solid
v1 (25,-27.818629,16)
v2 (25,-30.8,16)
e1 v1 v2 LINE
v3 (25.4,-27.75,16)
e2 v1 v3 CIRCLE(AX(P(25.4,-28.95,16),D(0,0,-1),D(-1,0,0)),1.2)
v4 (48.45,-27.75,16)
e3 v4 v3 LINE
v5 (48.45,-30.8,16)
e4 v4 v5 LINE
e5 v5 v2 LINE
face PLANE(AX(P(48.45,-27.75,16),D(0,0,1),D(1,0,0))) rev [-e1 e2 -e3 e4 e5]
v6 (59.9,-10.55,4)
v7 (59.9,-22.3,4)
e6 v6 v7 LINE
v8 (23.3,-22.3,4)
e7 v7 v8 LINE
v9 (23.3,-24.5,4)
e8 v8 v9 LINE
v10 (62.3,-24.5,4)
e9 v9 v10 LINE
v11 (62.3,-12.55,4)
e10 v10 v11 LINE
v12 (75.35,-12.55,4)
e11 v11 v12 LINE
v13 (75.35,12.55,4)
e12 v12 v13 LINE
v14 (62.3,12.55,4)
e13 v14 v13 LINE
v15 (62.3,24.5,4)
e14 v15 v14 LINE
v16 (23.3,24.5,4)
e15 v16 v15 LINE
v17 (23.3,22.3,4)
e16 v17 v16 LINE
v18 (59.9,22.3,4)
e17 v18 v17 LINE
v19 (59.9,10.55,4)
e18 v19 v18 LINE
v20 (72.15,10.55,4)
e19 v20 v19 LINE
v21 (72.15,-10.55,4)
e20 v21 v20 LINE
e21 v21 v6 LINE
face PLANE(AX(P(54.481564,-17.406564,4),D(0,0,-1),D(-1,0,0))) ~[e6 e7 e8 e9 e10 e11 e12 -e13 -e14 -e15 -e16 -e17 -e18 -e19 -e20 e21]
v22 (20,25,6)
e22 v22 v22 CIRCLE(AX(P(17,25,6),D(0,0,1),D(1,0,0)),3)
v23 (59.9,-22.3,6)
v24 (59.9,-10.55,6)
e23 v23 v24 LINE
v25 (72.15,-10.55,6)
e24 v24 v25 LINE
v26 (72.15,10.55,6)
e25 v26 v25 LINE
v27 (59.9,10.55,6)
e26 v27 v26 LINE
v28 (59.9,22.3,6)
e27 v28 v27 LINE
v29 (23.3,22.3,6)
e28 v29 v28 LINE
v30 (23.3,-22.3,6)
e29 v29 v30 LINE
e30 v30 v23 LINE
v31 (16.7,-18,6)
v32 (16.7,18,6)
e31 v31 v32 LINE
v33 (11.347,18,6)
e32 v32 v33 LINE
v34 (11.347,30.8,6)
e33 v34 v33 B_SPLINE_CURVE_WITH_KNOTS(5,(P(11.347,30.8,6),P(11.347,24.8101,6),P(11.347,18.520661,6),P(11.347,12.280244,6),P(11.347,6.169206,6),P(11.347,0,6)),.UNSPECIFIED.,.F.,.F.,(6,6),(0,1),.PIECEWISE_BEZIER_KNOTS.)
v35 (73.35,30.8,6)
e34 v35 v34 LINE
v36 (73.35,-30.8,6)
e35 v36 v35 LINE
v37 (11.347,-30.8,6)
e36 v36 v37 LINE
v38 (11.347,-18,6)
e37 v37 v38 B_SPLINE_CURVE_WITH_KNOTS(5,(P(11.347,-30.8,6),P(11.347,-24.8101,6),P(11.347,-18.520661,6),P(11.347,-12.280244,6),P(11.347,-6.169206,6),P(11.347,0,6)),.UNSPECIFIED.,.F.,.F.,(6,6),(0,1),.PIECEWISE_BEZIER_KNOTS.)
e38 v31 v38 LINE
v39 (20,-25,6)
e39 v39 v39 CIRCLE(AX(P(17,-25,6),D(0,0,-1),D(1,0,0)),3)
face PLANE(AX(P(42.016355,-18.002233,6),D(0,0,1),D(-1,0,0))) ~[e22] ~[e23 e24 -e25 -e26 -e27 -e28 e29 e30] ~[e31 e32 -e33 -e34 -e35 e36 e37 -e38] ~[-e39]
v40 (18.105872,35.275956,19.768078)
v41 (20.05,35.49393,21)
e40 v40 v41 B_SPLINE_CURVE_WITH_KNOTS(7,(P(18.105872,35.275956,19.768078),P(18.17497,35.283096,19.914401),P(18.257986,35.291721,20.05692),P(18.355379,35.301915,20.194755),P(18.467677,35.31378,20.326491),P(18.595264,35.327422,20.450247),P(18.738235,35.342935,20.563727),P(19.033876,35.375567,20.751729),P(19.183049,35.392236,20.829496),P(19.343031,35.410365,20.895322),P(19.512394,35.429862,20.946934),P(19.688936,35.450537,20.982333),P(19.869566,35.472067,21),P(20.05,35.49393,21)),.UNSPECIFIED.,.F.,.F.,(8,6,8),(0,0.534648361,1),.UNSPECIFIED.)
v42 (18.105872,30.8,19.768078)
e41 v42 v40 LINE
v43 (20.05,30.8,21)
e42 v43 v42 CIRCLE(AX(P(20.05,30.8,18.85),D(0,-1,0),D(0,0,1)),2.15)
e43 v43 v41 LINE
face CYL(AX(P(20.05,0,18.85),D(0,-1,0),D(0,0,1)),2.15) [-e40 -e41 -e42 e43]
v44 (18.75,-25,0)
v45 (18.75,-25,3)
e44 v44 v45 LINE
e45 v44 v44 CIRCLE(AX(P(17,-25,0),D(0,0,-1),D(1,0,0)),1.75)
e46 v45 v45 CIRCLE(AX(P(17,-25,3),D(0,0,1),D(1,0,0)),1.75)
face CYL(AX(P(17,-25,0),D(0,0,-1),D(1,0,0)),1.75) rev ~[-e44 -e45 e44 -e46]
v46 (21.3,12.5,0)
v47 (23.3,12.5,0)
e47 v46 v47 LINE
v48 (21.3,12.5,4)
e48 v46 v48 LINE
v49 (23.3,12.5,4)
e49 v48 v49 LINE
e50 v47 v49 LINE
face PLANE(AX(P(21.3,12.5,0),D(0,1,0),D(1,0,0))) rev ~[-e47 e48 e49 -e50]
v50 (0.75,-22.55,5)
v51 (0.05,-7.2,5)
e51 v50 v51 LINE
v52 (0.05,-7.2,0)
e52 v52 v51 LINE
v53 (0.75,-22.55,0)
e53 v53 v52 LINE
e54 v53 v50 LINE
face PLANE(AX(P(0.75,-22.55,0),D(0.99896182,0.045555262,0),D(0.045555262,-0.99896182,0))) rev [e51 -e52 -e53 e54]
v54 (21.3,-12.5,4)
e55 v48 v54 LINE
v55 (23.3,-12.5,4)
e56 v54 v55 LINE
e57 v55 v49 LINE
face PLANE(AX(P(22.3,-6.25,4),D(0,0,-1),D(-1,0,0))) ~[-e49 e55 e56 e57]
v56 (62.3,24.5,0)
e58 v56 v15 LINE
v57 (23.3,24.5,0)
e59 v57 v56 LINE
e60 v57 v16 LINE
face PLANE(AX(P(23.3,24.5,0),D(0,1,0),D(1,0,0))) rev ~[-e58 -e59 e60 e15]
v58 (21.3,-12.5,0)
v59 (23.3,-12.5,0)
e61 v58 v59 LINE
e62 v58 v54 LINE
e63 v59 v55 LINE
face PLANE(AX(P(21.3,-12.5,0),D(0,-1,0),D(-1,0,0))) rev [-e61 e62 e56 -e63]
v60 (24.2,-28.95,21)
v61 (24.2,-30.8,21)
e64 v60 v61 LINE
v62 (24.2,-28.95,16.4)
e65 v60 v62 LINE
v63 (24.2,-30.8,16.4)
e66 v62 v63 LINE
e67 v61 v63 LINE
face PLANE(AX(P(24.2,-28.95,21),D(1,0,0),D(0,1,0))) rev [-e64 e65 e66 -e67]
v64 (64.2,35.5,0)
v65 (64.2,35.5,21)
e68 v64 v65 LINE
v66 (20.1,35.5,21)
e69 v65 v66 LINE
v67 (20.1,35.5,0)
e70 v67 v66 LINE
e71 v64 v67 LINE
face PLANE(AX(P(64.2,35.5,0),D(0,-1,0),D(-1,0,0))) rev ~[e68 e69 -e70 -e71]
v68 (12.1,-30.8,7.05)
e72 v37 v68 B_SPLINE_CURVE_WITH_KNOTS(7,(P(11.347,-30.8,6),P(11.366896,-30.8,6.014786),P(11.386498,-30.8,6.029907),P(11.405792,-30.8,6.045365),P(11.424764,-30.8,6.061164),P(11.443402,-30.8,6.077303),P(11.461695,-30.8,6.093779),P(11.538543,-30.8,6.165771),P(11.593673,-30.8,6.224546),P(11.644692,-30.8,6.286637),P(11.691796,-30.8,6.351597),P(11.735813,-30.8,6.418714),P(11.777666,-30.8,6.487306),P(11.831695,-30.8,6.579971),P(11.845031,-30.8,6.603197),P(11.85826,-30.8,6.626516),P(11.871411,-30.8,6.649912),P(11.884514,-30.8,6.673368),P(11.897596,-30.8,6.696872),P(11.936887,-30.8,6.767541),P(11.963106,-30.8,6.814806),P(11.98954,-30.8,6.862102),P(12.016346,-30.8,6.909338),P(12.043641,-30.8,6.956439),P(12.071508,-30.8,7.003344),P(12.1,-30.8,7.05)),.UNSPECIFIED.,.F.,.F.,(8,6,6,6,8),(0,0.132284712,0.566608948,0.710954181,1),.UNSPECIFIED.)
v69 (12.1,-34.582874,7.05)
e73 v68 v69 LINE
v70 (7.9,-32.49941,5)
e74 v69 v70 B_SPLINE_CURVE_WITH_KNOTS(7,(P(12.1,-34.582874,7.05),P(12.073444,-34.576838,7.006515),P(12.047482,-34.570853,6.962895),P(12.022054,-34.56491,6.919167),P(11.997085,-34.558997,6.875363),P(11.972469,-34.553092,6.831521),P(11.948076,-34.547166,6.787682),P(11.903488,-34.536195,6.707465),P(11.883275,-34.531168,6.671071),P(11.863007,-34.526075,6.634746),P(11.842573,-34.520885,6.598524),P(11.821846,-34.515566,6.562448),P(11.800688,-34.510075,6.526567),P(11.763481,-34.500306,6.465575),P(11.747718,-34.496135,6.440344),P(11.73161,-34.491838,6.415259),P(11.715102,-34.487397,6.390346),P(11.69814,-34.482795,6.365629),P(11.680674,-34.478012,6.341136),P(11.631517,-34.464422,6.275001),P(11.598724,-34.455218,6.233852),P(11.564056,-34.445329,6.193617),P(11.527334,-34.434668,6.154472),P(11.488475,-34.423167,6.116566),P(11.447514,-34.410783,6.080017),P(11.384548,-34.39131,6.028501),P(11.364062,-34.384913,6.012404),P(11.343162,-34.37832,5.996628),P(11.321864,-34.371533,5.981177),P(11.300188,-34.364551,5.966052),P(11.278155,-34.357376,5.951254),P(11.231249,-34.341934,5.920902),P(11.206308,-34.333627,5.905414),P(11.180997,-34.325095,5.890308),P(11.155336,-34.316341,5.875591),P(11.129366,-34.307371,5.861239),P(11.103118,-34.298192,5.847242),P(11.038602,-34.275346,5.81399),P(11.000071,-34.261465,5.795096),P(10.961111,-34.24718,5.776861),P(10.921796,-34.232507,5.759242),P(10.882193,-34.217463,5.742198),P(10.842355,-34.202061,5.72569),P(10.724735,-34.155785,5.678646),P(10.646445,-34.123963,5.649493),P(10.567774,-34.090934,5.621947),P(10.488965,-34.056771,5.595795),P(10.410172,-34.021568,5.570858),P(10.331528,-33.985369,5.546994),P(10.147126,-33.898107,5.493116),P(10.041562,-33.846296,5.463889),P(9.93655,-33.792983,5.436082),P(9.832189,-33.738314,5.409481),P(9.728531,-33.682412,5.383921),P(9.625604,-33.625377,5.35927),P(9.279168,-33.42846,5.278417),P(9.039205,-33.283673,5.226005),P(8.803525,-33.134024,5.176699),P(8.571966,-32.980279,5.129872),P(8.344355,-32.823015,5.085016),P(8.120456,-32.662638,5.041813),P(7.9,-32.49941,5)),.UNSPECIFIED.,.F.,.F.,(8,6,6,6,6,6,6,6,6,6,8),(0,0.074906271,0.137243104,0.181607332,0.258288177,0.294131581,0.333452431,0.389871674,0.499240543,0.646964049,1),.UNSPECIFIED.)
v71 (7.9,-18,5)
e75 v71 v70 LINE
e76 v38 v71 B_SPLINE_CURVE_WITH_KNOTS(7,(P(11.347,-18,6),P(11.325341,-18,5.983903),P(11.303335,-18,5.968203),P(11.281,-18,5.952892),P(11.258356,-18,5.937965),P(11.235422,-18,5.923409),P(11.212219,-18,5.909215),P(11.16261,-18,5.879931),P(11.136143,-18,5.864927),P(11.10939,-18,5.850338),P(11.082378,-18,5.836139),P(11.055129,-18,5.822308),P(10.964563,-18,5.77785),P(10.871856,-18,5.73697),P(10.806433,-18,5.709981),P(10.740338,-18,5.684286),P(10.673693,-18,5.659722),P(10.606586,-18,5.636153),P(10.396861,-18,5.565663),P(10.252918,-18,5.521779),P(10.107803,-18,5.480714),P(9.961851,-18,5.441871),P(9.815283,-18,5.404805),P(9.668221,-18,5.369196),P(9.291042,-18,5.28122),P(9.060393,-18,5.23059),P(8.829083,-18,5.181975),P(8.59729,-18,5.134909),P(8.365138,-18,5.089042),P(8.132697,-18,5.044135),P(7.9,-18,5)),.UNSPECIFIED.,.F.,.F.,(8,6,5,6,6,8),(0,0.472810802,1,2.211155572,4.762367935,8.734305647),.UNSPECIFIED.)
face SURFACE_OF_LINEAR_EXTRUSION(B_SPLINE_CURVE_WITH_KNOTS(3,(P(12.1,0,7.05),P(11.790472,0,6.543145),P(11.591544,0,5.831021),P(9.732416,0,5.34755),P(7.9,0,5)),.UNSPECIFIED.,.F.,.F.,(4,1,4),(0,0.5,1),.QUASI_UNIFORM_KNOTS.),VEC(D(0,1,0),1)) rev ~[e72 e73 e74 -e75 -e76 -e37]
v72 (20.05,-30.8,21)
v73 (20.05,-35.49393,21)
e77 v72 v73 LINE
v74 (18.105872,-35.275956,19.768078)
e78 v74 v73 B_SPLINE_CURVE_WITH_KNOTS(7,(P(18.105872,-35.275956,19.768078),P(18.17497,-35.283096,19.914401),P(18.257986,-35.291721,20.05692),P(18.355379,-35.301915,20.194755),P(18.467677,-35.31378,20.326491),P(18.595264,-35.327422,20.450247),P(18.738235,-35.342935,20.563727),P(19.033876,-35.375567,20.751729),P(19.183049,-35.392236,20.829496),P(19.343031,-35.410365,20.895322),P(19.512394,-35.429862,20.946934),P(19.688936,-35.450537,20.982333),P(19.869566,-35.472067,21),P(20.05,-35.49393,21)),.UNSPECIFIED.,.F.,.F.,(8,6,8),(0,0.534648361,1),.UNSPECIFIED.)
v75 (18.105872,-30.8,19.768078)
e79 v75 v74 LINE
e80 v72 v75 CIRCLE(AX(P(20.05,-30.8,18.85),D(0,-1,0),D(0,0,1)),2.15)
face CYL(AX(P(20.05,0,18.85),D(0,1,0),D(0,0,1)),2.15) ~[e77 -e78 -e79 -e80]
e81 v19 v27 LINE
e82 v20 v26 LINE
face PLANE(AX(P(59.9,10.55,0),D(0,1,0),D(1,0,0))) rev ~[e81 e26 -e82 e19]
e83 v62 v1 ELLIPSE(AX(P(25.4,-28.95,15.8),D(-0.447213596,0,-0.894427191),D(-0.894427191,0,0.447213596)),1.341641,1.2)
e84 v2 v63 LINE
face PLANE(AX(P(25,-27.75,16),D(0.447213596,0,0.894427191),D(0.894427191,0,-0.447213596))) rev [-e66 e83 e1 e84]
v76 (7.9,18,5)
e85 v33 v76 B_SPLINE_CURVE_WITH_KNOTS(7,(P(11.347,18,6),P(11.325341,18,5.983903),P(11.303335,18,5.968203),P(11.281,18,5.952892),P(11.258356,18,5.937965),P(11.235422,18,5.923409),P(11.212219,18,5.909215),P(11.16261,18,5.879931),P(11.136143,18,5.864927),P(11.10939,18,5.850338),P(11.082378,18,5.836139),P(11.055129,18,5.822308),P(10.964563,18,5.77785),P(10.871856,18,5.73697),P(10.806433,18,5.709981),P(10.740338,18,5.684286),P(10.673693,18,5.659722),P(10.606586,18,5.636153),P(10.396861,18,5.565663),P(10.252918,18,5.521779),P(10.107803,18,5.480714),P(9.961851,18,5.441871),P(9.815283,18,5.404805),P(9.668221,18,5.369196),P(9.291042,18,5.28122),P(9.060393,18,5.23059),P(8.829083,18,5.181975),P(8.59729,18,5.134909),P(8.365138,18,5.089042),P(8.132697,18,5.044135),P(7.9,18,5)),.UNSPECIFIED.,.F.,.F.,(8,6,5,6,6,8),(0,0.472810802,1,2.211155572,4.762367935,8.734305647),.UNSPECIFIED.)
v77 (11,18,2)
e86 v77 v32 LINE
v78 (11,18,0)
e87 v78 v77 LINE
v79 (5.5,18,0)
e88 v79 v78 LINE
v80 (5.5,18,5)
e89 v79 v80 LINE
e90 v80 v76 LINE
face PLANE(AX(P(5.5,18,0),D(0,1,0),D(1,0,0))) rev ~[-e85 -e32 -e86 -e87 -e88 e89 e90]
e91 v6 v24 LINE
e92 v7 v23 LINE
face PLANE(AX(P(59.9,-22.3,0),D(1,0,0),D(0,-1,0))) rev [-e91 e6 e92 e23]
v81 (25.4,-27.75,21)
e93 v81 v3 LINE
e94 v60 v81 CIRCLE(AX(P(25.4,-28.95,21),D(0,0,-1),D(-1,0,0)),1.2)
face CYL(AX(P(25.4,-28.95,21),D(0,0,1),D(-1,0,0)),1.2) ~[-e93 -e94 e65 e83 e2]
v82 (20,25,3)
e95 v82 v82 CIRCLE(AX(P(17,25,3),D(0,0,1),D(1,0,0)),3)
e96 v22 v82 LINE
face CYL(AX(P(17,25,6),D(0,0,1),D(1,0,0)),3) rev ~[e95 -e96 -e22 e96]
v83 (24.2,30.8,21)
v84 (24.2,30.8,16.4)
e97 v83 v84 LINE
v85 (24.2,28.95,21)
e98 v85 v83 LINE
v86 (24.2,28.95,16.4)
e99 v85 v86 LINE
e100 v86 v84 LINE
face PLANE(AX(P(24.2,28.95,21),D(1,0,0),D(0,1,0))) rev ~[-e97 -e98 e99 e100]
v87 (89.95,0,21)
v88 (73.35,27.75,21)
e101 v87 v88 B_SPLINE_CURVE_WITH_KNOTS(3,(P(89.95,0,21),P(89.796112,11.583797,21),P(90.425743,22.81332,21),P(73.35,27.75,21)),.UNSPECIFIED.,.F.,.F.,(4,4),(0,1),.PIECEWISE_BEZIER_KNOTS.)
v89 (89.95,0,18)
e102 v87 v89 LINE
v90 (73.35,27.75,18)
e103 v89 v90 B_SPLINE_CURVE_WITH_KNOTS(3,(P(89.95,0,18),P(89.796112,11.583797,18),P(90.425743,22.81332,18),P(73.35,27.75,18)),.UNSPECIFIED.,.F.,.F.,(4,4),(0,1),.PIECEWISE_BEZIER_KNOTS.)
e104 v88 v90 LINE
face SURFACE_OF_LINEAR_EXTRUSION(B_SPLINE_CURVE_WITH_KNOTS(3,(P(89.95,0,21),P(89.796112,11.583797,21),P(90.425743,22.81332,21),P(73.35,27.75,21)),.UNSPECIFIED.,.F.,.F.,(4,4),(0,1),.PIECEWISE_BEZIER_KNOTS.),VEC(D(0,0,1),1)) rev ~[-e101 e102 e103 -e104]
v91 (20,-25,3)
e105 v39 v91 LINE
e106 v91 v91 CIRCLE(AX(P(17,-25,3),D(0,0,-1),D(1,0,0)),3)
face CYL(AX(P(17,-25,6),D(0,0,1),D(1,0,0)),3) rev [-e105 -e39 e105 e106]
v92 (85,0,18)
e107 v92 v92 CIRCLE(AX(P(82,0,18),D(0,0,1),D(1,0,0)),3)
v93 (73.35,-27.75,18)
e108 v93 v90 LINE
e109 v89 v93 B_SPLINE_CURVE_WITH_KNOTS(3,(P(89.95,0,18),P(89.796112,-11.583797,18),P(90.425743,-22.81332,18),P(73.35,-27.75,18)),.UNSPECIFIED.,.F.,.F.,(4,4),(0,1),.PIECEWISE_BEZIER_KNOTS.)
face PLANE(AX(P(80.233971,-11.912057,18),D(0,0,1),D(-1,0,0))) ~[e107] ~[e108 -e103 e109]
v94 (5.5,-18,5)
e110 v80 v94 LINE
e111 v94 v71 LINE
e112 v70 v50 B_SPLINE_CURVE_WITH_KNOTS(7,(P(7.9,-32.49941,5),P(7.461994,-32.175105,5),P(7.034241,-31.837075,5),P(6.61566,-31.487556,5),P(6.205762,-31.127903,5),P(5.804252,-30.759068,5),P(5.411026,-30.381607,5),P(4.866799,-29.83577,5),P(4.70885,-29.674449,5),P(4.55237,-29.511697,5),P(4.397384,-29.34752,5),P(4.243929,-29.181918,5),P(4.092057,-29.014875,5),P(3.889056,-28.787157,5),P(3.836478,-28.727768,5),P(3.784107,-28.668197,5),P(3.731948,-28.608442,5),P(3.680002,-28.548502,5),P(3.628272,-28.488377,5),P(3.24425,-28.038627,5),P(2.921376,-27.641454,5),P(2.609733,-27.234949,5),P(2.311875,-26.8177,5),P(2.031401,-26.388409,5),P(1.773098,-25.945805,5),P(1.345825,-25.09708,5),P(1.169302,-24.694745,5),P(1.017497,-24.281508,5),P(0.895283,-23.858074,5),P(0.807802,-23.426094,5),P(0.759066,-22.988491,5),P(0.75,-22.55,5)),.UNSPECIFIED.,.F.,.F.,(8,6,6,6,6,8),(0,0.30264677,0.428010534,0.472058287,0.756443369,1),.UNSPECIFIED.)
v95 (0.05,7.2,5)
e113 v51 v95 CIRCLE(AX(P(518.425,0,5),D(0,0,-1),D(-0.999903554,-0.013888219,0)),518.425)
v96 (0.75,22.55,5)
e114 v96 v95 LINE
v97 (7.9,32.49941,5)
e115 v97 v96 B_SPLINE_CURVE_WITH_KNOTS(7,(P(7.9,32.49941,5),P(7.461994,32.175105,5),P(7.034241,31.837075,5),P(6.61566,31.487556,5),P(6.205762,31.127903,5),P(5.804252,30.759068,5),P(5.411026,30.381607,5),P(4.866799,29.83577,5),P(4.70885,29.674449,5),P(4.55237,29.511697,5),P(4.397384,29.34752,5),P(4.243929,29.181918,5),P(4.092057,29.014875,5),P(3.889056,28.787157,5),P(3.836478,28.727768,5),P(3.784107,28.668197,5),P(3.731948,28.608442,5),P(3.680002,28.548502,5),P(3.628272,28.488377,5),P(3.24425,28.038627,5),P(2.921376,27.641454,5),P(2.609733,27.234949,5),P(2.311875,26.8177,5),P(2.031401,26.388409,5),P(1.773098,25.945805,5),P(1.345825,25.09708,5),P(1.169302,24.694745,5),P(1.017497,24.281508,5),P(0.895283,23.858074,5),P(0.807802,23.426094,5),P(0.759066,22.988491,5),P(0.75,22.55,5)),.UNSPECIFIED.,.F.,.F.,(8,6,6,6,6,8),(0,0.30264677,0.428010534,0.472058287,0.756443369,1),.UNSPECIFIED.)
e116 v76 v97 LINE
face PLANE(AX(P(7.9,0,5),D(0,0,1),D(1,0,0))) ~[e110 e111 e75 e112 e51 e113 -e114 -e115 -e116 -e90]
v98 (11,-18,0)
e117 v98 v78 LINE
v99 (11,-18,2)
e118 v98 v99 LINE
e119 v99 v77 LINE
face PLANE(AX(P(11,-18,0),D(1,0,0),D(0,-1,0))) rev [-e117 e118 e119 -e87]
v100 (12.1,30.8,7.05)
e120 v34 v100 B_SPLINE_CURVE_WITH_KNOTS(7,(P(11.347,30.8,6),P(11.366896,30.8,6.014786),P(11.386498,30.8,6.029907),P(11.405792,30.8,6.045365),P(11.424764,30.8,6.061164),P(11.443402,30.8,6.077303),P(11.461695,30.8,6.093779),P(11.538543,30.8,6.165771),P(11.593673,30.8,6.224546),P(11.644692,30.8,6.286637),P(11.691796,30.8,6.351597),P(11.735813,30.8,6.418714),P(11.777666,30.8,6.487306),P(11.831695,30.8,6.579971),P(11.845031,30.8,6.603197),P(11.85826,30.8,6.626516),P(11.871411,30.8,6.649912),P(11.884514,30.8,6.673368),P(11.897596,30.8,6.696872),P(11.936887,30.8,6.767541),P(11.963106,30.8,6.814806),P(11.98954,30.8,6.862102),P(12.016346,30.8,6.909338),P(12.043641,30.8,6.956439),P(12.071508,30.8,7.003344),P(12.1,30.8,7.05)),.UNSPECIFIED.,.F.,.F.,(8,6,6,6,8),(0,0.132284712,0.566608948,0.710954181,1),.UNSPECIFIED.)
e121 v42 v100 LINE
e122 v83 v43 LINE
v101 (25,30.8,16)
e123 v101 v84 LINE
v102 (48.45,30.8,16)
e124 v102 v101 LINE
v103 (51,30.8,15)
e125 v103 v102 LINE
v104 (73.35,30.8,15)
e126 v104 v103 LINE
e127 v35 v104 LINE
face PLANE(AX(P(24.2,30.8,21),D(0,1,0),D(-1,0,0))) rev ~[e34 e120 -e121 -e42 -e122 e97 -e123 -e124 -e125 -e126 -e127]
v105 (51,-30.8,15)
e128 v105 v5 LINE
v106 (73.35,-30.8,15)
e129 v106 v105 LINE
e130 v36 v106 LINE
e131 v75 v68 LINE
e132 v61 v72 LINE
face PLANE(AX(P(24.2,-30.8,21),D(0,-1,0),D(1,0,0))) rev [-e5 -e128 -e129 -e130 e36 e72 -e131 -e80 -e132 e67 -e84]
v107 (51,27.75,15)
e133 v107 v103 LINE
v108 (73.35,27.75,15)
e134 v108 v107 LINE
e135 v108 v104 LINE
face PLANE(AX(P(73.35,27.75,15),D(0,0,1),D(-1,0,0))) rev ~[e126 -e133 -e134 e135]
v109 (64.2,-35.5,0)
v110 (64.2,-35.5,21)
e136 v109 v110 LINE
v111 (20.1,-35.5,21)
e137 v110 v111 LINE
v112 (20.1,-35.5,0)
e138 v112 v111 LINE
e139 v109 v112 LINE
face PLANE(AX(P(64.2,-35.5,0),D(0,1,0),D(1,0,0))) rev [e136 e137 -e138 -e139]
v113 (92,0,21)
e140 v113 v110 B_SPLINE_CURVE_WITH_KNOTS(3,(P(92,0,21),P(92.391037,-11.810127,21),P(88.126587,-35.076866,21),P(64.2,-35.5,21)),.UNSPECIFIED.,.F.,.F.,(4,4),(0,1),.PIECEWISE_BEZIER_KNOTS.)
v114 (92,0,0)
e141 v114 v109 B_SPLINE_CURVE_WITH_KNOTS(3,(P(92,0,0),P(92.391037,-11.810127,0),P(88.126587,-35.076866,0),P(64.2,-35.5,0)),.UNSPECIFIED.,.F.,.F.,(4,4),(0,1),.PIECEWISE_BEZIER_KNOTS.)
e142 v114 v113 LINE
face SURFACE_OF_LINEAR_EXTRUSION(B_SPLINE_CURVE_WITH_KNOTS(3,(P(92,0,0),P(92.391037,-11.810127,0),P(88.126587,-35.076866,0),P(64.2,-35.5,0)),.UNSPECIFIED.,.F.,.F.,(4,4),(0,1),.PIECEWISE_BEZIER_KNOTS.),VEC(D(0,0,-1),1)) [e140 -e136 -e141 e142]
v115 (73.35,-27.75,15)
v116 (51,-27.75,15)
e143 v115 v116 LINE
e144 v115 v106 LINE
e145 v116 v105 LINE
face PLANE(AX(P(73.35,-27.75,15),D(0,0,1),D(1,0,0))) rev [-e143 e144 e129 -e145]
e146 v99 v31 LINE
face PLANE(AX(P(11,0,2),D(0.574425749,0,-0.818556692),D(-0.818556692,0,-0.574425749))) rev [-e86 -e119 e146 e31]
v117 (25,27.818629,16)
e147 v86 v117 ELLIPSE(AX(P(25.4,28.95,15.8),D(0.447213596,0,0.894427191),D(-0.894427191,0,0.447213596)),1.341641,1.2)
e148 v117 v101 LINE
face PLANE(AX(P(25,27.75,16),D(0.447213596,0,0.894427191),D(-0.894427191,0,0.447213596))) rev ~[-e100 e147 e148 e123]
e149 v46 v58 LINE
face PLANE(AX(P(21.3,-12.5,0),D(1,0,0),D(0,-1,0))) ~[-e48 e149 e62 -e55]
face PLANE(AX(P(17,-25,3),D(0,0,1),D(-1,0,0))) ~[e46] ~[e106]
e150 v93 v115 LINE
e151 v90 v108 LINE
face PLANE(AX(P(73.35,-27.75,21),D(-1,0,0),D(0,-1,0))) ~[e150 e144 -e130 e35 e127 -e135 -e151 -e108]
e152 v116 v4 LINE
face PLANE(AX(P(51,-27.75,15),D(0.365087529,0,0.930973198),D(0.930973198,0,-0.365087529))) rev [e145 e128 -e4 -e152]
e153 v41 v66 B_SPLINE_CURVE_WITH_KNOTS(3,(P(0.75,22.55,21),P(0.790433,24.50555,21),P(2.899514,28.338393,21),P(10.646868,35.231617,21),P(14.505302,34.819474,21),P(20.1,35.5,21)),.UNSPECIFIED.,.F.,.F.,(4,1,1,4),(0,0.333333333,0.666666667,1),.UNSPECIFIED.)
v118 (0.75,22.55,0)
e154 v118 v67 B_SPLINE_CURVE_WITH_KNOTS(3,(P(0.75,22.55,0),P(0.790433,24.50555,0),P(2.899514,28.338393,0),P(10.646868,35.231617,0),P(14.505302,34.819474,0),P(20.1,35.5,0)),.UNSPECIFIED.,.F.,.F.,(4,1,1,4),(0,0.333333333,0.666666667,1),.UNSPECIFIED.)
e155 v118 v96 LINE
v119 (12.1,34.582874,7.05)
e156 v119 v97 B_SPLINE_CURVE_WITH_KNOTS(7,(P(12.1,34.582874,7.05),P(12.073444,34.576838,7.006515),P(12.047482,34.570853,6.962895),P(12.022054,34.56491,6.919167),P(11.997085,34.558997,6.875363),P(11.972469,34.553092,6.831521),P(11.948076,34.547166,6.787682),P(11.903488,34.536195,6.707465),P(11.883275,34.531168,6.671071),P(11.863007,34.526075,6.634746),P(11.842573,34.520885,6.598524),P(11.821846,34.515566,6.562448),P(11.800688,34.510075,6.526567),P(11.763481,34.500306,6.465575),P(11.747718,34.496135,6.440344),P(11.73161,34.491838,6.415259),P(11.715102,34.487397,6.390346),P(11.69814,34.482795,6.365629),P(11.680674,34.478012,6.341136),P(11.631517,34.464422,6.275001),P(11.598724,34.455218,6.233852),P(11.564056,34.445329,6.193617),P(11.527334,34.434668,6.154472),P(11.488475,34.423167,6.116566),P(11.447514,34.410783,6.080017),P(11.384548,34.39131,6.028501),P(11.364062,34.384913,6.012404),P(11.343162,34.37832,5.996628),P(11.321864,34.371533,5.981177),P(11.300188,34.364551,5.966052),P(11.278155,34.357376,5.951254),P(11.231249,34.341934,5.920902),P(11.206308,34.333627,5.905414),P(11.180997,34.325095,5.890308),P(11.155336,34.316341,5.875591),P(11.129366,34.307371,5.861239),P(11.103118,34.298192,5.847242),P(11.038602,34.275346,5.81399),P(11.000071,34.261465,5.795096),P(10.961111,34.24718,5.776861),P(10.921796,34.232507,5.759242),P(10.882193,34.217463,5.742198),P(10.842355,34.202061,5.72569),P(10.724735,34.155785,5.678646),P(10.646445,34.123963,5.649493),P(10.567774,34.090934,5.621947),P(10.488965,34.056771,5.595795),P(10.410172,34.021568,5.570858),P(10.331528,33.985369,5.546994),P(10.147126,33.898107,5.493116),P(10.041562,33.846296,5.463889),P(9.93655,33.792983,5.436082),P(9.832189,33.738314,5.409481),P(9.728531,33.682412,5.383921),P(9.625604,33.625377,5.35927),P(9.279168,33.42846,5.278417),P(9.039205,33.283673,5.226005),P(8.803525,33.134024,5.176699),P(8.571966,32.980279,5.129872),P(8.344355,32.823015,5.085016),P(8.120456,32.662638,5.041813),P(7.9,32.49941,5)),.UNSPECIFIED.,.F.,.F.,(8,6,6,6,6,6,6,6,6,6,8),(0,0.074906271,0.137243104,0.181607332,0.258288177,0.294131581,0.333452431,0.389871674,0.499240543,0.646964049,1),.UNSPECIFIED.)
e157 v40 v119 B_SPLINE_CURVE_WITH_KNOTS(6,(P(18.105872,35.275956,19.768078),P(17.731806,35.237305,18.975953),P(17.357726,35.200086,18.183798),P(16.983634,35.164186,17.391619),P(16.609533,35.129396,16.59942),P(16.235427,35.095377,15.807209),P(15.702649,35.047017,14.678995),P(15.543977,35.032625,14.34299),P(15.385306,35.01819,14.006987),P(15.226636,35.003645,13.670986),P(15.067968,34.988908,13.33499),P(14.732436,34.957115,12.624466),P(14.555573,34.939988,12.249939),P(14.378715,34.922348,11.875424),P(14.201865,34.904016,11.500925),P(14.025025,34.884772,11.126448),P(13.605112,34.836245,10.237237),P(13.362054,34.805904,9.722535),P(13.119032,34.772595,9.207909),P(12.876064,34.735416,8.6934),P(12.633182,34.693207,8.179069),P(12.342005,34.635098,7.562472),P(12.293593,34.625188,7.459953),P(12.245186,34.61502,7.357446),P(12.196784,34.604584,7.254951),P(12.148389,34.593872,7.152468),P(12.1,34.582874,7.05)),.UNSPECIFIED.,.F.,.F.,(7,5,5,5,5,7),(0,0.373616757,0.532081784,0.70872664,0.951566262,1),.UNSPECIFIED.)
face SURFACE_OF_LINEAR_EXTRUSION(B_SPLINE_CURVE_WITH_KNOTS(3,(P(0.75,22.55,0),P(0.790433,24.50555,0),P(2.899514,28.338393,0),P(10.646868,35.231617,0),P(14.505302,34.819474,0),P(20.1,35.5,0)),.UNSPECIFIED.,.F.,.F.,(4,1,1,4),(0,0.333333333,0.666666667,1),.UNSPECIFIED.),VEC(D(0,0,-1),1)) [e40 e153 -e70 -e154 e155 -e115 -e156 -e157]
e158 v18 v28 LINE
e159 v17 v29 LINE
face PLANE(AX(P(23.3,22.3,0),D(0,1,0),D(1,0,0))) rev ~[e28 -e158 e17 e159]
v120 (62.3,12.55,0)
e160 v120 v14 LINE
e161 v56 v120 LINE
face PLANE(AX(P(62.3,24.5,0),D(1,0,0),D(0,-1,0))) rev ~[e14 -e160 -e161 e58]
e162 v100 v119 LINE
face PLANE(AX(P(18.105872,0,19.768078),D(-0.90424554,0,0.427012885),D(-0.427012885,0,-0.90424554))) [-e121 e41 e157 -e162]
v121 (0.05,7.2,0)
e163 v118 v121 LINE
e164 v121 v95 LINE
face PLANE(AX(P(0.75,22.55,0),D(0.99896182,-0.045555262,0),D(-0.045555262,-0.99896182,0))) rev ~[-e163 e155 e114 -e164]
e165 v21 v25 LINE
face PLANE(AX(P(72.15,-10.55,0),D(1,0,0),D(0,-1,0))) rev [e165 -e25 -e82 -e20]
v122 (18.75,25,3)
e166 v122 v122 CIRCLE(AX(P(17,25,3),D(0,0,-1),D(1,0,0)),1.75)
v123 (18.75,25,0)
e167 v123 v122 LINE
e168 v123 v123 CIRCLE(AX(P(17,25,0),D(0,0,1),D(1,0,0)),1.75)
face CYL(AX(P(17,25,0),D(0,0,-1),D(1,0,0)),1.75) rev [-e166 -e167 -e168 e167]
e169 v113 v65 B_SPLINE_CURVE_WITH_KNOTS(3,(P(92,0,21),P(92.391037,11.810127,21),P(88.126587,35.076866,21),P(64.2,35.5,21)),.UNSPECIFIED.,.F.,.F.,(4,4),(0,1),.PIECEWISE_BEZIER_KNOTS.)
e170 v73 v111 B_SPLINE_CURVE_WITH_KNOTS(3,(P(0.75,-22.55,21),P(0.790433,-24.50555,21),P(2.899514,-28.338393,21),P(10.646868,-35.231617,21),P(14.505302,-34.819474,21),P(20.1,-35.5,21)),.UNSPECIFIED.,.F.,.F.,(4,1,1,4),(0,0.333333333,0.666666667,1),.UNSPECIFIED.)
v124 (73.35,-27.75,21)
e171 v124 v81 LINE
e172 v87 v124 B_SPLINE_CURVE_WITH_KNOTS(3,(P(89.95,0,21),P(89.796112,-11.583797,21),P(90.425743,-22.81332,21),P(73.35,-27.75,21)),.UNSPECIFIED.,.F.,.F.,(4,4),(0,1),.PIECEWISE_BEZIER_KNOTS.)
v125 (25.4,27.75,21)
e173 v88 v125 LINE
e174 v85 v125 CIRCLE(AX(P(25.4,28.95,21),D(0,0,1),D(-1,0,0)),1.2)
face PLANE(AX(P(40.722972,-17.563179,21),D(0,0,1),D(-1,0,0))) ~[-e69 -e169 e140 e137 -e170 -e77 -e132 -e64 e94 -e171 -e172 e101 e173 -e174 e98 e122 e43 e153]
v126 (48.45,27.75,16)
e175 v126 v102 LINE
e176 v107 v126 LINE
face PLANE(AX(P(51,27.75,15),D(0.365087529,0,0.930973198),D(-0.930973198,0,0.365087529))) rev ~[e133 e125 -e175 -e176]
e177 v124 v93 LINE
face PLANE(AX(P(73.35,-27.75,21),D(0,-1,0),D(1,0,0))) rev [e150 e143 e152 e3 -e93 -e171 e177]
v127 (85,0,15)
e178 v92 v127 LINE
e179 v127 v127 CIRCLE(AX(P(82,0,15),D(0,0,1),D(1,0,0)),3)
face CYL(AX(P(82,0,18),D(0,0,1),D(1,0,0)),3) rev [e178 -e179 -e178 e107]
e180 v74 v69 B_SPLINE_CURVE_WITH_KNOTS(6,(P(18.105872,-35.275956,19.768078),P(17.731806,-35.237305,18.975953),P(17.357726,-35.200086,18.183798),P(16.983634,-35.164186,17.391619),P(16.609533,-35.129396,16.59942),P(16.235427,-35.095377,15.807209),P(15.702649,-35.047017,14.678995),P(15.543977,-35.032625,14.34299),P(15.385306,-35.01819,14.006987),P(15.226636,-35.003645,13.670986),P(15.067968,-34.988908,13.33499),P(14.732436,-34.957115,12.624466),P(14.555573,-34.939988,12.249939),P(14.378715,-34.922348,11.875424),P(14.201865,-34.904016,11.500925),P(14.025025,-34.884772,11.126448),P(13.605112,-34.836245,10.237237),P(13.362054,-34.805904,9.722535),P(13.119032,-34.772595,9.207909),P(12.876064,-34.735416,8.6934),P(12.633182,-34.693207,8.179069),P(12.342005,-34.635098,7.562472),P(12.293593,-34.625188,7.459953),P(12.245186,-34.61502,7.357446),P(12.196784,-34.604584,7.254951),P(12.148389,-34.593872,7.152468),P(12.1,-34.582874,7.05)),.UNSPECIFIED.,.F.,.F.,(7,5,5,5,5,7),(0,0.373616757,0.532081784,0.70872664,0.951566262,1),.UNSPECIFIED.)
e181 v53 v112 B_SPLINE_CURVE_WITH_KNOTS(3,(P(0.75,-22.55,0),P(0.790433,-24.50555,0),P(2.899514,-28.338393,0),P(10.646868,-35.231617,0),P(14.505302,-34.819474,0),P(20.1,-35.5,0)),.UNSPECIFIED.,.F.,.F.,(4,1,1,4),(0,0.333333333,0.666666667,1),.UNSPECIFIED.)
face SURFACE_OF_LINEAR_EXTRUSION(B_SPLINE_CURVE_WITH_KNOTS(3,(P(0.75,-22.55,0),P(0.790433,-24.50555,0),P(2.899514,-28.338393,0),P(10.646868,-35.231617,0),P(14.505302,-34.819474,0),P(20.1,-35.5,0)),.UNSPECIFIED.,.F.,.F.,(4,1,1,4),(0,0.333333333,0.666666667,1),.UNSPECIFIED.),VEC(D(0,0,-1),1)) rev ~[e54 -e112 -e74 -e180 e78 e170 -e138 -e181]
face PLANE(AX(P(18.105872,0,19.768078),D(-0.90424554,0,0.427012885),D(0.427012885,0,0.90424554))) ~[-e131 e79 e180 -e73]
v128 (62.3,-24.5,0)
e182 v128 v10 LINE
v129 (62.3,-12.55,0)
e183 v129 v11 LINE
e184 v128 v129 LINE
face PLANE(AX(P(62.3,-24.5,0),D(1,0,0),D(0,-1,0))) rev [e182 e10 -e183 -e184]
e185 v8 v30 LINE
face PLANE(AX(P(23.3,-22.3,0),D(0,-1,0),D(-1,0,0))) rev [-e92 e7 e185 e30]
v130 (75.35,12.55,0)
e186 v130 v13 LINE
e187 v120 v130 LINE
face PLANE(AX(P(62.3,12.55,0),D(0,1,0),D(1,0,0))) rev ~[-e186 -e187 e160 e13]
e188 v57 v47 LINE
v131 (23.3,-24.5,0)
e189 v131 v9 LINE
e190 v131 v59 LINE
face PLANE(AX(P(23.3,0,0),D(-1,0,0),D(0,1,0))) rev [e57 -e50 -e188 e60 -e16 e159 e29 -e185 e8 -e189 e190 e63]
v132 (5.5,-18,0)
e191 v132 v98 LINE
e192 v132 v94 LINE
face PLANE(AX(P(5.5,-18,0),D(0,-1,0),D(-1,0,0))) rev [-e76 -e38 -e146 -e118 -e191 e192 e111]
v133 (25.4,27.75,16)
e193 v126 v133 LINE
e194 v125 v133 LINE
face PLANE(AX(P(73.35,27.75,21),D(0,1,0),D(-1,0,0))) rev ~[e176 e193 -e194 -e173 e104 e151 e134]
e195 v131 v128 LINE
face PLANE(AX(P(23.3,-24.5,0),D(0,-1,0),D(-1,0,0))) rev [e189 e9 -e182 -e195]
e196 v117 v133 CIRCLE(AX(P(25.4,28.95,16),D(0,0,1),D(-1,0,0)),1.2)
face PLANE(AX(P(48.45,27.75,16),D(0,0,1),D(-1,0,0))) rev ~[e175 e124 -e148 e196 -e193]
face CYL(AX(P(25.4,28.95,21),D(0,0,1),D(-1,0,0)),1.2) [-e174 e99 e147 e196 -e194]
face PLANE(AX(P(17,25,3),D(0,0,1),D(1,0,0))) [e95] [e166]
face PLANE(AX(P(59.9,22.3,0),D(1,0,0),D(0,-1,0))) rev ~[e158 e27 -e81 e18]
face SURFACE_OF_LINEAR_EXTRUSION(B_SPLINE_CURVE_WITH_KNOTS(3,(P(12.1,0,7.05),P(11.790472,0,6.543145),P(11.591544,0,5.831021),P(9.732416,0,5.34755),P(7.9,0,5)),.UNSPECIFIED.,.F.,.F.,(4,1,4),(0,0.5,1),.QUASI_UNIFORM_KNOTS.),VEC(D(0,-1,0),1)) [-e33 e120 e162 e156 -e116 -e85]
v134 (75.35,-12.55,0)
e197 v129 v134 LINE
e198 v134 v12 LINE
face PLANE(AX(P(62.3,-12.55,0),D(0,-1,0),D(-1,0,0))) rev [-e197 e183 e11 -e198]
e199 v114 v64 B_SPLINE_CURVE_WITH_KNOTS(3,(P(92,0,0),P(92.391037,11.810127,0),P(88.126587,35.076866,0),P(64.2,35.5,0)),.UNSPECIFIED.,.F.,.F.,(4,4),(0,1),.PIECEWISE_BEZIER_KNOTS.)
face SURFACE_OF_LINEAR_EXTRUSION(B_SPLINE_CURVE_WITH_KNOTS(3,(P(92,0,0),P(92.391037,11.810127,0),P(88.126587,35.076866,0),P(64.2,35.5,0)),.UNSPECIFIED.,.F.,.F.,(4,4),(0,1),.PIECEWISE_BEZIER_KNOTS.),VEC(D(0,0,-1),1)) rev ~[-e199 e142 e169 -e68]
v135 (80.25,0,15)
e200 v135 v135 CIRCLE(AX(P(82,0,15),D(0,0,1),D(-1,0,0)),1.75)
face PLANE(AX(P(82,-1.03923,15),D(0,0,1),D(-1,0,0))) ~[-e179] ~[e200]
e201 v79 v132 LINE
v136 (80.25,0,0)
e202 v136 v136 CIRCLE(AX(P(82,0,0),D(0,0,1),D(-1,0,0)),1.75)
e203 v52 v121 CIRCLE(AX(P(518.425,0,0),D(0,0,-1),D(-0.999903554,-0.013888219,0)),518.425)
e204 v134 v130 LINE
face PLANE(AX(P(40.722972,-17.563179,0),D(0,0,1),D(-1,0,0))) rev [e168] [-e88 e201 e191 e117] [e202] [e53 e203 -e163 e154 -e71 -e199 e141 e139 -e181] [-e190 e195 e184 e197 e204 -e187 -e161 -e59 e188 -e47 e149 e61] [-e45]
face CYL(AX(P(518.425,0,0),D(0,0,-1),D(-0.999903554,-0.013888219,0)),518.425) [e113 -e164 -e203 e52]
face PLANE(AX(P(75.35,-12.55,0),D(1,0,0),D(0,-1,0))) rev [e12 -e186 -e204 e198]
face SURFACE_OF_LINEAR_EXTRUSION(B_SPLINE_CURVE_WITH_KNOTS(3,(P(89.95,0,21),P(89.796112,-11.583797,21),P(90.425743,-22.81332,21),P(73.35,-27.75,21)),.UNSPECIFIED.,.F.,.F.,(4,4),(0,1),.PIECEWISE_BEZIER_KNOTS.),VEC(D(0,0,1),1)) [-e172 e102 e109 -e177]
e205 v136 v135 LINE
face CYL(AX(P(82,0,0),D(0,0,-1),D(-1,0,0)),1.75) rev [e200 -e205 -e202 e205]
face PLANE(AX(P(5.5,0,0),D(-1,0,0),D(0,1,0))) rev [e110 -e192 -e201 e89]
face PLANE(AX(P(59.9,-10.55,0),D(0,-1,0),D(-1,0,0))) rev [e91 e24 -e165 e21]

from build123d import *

# Parameters (mm, degrees)
SKETCH009_R     = 1.75
PAD001_DEPTH    = 21
POCKET008_DEPTH = 35.5010001
POCKET009_DEPTH = 15
POCKET010_DEPTH = 18
SKETCH013_W     = 2
SKETCH013_H     = 12.5
POCKET011_DEPTH = 4
POCKET012_DEPTH = 3
POCKET013_DEPTH = 3.05
POCKET017_DEPTH = 3
SKETCH021_R     = 3
POCKET018_DEPTH = 3


with BuildPart() as part:
    # Sketch009 → Pad001 (new body)
    with BuildSketch(Plane.XY):
        with BuildLine():
            Line((11, 0), (23.3, 0))
            Line((23.3, 0), (23.3, 22.3))
            Line((23.3, 22.3), (59.9, 22.3))
            Line((59.9, 22.3), (59.9, 10.55))
            Line((59.9, 10.55), (72.15, 10.55))
            Line((72.15, 10.55), (72.15, 0))
            Line((72.15, 0), (80.25, 0))
            ThreePointArc((80.25, 0), (82, 1.75), (83.75, 0))
            Line((83.75, 0), (92, 0))
            add(Edge.make_bspline(
                [(92, 0), (92.391037, 11.810127), (88.126587, 35.076866), (64.2, 35.5)],
                knots=[0, 0, 0, 0, 1, 1, 1, 1], degree=3))
            Line((64.2, 35.5), (20.1, 35.5))
            add(Edge.make_bspline(
                [(0.75, 22.55), (0.790433, 24.50555), (2.8995135699, 28.3383927733), (10.6468681476, 35.231617337), (14.5053016695, 34.8194742751), (20.1, 35.5)],
                knots=[0, 0, 0, 0, 0.3333333333, 0.6666666667, 1, 1, 1, 1], degree=3))
            Line((0.75, 22.55), (0.05, 7.2))
            ThreePointArc((0.05, 7.2), (0.0125001507, 3.6000868045), (0, 0))
            Line((0, 0), (5.5, 0))
            Line((5.5, 0), (5.5, 18))
            Line((5.5, 18), (11, 18))
            Line((11, 18), (11, 0))
        make_face()
        with Locations((17, 25)):
            Circle(SKETCH009_R, mode=Mode.SUBTRACT)
    extrude(amount=PAD001_DEPTH)

    # Sketch010 (on Face1 of Pad001) → Pocket008 (cut, through all)
    with BuildSketch(Plane.XZ):
        with BuildLine():
            Line((7.9, 5), (0, 5))
            Line((0, 5), (0, 21))
            Line((0, 21), (20.05, 21))
            ThreePointArc((20.05, 21), (18.8992105015, 20.6660901767), (18.1058720895, 19.7680777024))
            Line((18.1058720895, 19.7680777024), (12.1, 7.05))
            add(Edge.make_bspline(
                [(12.1, 7.05), (11.7904723155, 6.5431449633), (11.5915441331, 5.8310211118), (9.732416, 5.34755), (7.9, 5)],
                knots=[0, 0, 0, 0, 0.5, 1, 1, 1, 1], degree=3))
        make_face()
    extrude(amount=-POCKET008_DEPTH, mode=Mode.SUBTRACT)

    # Sketch011 (on Face4 of Pocket008) → Pocket009 (cut)
    with BuildSketch(Plane.XY.offset(21)):
        with BuildLine():
            Line((11, 30.8), (11, 0))
            Line((11, 0), (23.3, 0))
            Line((23.3, 0), (23.3, 22.3))
            Line((23.3, 22.3), (59.9, 22.3))
            Line((59.9, 22.3), (59.9, 10.55))
            Line((59.9, 10.55), (72.15, 10.55))
            Line((72.15, 10.55), (72.15, 0))
            Line((72.15, 0), (73.35, 0))
            Line((73.35, 27.75), (73.35, 0))
            Line((73.35, 27.75), (25.4, 27.75))
            ThreePointArc((24.2, 28.95), (24.5514718626, 28.1014718626), (25.4, 27.75))
            Line((24.2, 28.95), (24.2, 30.8))
            Line((24.2, 30.8), (11, 30.8))
        make_face()
    extrude(amount=-POCKET009_DEPTH, mode=Mode.SUBTRACT)

    # Sketch012 (on Face1 of Pocket009) → Pocket010 (cut)
    with BuildSketch(Plane.XZ):
        Polygon((16.7, 6), (11, 6), (11, 2), align=None)
    extrude(amount=-POCKET010_DEPTH, mode=Mode.SUBTRACT)

    # Sketch013 (on Face2 of Pocket010) → Pocket011 (cut)
    with BuildSketch(Plane(origin=(0, 0, 0), x_dir=(1, 0, 0), z_dir=(0, 0, -1))):
        Polygon((72.15, -10.55), (59.9, -10.55), (59.9, -22.3), (23.3, -22.3), (23.3, -24.5), (62.3, -24.5), (62.3, -12.55), (75.35, -12.55), (75.35, 0), (72.15, 0), align=None)
        with Locations((22.3, -6.25)):
            Rectangle(SKETCH013_W, SKETCH013_H)
    extrude(amount=-POCKET011_DEPTH, mode=Mode.SUBTRACT)

    # Sketch014 (on Face36 of Pocket011) → Pocket012 (cut)
    with BuildSketch(Plane.XY.offset(21)):
        with BuildLine():
            Line((73.35, 27.75), (73.35, 0))
            Line((73.35, 0), (89.95, 0))
            add(Edge.make_bspline(
                [(89.95, 0), (89.796112, 11.583797), (90.425743, 22.81332), (73.35, 27.75)],
                knots=[0, 0, 0, 0, 1, 1, 1, 1], degree=3))
        make_face()
    extrude(amount=-POCKET012_DEPTH, mode=Mode.SUBTRACT)

    # Sketch015 (on Face29 of Pocket012) → Pocket013 (cut)
    with BuildSketch(Plane.XZ.offset(-27.75)):
        Polygon((24.2, 6), (73.35, 6), (73.35, 15), (51, 15), (48.45, 16), (25, 16), (24.2, 16.4), align=None)
    extrude(amount=-POCKET013_DEPTH, mode=Mode.SUBTRACT)

    # Sketch020 (on Face36 of Pocket013) → Pocket017 (cut)
    with BuildSketch(Plane.XY.offset(18)):
        with BuildLine():
            ThreePointArc((85, 0), (82, 3), (79, 0))
            Line((79, 0), (85, 0))
        make_face()
    extrude(amount=-POCKET017_DEPTH, mode=Mode.SUBTRACT)

    # Sketch021 (on Face6 of Pocket017) → Pocket018 (cut)
    with BuildSketch(Plane.XY.offset(6)):
        with Locations((17, 25)):
            Circle(SKETCH021_R)
    extrude(amount=-POCKET018_DEPTH, mode=Mode.SUBTRACT)

    # Mirrored: part across XZ


with BuildPart() as part_1:
    add(part.part)
    add(part.part.mirror(Plane.XZ))


solid = part_1.part
